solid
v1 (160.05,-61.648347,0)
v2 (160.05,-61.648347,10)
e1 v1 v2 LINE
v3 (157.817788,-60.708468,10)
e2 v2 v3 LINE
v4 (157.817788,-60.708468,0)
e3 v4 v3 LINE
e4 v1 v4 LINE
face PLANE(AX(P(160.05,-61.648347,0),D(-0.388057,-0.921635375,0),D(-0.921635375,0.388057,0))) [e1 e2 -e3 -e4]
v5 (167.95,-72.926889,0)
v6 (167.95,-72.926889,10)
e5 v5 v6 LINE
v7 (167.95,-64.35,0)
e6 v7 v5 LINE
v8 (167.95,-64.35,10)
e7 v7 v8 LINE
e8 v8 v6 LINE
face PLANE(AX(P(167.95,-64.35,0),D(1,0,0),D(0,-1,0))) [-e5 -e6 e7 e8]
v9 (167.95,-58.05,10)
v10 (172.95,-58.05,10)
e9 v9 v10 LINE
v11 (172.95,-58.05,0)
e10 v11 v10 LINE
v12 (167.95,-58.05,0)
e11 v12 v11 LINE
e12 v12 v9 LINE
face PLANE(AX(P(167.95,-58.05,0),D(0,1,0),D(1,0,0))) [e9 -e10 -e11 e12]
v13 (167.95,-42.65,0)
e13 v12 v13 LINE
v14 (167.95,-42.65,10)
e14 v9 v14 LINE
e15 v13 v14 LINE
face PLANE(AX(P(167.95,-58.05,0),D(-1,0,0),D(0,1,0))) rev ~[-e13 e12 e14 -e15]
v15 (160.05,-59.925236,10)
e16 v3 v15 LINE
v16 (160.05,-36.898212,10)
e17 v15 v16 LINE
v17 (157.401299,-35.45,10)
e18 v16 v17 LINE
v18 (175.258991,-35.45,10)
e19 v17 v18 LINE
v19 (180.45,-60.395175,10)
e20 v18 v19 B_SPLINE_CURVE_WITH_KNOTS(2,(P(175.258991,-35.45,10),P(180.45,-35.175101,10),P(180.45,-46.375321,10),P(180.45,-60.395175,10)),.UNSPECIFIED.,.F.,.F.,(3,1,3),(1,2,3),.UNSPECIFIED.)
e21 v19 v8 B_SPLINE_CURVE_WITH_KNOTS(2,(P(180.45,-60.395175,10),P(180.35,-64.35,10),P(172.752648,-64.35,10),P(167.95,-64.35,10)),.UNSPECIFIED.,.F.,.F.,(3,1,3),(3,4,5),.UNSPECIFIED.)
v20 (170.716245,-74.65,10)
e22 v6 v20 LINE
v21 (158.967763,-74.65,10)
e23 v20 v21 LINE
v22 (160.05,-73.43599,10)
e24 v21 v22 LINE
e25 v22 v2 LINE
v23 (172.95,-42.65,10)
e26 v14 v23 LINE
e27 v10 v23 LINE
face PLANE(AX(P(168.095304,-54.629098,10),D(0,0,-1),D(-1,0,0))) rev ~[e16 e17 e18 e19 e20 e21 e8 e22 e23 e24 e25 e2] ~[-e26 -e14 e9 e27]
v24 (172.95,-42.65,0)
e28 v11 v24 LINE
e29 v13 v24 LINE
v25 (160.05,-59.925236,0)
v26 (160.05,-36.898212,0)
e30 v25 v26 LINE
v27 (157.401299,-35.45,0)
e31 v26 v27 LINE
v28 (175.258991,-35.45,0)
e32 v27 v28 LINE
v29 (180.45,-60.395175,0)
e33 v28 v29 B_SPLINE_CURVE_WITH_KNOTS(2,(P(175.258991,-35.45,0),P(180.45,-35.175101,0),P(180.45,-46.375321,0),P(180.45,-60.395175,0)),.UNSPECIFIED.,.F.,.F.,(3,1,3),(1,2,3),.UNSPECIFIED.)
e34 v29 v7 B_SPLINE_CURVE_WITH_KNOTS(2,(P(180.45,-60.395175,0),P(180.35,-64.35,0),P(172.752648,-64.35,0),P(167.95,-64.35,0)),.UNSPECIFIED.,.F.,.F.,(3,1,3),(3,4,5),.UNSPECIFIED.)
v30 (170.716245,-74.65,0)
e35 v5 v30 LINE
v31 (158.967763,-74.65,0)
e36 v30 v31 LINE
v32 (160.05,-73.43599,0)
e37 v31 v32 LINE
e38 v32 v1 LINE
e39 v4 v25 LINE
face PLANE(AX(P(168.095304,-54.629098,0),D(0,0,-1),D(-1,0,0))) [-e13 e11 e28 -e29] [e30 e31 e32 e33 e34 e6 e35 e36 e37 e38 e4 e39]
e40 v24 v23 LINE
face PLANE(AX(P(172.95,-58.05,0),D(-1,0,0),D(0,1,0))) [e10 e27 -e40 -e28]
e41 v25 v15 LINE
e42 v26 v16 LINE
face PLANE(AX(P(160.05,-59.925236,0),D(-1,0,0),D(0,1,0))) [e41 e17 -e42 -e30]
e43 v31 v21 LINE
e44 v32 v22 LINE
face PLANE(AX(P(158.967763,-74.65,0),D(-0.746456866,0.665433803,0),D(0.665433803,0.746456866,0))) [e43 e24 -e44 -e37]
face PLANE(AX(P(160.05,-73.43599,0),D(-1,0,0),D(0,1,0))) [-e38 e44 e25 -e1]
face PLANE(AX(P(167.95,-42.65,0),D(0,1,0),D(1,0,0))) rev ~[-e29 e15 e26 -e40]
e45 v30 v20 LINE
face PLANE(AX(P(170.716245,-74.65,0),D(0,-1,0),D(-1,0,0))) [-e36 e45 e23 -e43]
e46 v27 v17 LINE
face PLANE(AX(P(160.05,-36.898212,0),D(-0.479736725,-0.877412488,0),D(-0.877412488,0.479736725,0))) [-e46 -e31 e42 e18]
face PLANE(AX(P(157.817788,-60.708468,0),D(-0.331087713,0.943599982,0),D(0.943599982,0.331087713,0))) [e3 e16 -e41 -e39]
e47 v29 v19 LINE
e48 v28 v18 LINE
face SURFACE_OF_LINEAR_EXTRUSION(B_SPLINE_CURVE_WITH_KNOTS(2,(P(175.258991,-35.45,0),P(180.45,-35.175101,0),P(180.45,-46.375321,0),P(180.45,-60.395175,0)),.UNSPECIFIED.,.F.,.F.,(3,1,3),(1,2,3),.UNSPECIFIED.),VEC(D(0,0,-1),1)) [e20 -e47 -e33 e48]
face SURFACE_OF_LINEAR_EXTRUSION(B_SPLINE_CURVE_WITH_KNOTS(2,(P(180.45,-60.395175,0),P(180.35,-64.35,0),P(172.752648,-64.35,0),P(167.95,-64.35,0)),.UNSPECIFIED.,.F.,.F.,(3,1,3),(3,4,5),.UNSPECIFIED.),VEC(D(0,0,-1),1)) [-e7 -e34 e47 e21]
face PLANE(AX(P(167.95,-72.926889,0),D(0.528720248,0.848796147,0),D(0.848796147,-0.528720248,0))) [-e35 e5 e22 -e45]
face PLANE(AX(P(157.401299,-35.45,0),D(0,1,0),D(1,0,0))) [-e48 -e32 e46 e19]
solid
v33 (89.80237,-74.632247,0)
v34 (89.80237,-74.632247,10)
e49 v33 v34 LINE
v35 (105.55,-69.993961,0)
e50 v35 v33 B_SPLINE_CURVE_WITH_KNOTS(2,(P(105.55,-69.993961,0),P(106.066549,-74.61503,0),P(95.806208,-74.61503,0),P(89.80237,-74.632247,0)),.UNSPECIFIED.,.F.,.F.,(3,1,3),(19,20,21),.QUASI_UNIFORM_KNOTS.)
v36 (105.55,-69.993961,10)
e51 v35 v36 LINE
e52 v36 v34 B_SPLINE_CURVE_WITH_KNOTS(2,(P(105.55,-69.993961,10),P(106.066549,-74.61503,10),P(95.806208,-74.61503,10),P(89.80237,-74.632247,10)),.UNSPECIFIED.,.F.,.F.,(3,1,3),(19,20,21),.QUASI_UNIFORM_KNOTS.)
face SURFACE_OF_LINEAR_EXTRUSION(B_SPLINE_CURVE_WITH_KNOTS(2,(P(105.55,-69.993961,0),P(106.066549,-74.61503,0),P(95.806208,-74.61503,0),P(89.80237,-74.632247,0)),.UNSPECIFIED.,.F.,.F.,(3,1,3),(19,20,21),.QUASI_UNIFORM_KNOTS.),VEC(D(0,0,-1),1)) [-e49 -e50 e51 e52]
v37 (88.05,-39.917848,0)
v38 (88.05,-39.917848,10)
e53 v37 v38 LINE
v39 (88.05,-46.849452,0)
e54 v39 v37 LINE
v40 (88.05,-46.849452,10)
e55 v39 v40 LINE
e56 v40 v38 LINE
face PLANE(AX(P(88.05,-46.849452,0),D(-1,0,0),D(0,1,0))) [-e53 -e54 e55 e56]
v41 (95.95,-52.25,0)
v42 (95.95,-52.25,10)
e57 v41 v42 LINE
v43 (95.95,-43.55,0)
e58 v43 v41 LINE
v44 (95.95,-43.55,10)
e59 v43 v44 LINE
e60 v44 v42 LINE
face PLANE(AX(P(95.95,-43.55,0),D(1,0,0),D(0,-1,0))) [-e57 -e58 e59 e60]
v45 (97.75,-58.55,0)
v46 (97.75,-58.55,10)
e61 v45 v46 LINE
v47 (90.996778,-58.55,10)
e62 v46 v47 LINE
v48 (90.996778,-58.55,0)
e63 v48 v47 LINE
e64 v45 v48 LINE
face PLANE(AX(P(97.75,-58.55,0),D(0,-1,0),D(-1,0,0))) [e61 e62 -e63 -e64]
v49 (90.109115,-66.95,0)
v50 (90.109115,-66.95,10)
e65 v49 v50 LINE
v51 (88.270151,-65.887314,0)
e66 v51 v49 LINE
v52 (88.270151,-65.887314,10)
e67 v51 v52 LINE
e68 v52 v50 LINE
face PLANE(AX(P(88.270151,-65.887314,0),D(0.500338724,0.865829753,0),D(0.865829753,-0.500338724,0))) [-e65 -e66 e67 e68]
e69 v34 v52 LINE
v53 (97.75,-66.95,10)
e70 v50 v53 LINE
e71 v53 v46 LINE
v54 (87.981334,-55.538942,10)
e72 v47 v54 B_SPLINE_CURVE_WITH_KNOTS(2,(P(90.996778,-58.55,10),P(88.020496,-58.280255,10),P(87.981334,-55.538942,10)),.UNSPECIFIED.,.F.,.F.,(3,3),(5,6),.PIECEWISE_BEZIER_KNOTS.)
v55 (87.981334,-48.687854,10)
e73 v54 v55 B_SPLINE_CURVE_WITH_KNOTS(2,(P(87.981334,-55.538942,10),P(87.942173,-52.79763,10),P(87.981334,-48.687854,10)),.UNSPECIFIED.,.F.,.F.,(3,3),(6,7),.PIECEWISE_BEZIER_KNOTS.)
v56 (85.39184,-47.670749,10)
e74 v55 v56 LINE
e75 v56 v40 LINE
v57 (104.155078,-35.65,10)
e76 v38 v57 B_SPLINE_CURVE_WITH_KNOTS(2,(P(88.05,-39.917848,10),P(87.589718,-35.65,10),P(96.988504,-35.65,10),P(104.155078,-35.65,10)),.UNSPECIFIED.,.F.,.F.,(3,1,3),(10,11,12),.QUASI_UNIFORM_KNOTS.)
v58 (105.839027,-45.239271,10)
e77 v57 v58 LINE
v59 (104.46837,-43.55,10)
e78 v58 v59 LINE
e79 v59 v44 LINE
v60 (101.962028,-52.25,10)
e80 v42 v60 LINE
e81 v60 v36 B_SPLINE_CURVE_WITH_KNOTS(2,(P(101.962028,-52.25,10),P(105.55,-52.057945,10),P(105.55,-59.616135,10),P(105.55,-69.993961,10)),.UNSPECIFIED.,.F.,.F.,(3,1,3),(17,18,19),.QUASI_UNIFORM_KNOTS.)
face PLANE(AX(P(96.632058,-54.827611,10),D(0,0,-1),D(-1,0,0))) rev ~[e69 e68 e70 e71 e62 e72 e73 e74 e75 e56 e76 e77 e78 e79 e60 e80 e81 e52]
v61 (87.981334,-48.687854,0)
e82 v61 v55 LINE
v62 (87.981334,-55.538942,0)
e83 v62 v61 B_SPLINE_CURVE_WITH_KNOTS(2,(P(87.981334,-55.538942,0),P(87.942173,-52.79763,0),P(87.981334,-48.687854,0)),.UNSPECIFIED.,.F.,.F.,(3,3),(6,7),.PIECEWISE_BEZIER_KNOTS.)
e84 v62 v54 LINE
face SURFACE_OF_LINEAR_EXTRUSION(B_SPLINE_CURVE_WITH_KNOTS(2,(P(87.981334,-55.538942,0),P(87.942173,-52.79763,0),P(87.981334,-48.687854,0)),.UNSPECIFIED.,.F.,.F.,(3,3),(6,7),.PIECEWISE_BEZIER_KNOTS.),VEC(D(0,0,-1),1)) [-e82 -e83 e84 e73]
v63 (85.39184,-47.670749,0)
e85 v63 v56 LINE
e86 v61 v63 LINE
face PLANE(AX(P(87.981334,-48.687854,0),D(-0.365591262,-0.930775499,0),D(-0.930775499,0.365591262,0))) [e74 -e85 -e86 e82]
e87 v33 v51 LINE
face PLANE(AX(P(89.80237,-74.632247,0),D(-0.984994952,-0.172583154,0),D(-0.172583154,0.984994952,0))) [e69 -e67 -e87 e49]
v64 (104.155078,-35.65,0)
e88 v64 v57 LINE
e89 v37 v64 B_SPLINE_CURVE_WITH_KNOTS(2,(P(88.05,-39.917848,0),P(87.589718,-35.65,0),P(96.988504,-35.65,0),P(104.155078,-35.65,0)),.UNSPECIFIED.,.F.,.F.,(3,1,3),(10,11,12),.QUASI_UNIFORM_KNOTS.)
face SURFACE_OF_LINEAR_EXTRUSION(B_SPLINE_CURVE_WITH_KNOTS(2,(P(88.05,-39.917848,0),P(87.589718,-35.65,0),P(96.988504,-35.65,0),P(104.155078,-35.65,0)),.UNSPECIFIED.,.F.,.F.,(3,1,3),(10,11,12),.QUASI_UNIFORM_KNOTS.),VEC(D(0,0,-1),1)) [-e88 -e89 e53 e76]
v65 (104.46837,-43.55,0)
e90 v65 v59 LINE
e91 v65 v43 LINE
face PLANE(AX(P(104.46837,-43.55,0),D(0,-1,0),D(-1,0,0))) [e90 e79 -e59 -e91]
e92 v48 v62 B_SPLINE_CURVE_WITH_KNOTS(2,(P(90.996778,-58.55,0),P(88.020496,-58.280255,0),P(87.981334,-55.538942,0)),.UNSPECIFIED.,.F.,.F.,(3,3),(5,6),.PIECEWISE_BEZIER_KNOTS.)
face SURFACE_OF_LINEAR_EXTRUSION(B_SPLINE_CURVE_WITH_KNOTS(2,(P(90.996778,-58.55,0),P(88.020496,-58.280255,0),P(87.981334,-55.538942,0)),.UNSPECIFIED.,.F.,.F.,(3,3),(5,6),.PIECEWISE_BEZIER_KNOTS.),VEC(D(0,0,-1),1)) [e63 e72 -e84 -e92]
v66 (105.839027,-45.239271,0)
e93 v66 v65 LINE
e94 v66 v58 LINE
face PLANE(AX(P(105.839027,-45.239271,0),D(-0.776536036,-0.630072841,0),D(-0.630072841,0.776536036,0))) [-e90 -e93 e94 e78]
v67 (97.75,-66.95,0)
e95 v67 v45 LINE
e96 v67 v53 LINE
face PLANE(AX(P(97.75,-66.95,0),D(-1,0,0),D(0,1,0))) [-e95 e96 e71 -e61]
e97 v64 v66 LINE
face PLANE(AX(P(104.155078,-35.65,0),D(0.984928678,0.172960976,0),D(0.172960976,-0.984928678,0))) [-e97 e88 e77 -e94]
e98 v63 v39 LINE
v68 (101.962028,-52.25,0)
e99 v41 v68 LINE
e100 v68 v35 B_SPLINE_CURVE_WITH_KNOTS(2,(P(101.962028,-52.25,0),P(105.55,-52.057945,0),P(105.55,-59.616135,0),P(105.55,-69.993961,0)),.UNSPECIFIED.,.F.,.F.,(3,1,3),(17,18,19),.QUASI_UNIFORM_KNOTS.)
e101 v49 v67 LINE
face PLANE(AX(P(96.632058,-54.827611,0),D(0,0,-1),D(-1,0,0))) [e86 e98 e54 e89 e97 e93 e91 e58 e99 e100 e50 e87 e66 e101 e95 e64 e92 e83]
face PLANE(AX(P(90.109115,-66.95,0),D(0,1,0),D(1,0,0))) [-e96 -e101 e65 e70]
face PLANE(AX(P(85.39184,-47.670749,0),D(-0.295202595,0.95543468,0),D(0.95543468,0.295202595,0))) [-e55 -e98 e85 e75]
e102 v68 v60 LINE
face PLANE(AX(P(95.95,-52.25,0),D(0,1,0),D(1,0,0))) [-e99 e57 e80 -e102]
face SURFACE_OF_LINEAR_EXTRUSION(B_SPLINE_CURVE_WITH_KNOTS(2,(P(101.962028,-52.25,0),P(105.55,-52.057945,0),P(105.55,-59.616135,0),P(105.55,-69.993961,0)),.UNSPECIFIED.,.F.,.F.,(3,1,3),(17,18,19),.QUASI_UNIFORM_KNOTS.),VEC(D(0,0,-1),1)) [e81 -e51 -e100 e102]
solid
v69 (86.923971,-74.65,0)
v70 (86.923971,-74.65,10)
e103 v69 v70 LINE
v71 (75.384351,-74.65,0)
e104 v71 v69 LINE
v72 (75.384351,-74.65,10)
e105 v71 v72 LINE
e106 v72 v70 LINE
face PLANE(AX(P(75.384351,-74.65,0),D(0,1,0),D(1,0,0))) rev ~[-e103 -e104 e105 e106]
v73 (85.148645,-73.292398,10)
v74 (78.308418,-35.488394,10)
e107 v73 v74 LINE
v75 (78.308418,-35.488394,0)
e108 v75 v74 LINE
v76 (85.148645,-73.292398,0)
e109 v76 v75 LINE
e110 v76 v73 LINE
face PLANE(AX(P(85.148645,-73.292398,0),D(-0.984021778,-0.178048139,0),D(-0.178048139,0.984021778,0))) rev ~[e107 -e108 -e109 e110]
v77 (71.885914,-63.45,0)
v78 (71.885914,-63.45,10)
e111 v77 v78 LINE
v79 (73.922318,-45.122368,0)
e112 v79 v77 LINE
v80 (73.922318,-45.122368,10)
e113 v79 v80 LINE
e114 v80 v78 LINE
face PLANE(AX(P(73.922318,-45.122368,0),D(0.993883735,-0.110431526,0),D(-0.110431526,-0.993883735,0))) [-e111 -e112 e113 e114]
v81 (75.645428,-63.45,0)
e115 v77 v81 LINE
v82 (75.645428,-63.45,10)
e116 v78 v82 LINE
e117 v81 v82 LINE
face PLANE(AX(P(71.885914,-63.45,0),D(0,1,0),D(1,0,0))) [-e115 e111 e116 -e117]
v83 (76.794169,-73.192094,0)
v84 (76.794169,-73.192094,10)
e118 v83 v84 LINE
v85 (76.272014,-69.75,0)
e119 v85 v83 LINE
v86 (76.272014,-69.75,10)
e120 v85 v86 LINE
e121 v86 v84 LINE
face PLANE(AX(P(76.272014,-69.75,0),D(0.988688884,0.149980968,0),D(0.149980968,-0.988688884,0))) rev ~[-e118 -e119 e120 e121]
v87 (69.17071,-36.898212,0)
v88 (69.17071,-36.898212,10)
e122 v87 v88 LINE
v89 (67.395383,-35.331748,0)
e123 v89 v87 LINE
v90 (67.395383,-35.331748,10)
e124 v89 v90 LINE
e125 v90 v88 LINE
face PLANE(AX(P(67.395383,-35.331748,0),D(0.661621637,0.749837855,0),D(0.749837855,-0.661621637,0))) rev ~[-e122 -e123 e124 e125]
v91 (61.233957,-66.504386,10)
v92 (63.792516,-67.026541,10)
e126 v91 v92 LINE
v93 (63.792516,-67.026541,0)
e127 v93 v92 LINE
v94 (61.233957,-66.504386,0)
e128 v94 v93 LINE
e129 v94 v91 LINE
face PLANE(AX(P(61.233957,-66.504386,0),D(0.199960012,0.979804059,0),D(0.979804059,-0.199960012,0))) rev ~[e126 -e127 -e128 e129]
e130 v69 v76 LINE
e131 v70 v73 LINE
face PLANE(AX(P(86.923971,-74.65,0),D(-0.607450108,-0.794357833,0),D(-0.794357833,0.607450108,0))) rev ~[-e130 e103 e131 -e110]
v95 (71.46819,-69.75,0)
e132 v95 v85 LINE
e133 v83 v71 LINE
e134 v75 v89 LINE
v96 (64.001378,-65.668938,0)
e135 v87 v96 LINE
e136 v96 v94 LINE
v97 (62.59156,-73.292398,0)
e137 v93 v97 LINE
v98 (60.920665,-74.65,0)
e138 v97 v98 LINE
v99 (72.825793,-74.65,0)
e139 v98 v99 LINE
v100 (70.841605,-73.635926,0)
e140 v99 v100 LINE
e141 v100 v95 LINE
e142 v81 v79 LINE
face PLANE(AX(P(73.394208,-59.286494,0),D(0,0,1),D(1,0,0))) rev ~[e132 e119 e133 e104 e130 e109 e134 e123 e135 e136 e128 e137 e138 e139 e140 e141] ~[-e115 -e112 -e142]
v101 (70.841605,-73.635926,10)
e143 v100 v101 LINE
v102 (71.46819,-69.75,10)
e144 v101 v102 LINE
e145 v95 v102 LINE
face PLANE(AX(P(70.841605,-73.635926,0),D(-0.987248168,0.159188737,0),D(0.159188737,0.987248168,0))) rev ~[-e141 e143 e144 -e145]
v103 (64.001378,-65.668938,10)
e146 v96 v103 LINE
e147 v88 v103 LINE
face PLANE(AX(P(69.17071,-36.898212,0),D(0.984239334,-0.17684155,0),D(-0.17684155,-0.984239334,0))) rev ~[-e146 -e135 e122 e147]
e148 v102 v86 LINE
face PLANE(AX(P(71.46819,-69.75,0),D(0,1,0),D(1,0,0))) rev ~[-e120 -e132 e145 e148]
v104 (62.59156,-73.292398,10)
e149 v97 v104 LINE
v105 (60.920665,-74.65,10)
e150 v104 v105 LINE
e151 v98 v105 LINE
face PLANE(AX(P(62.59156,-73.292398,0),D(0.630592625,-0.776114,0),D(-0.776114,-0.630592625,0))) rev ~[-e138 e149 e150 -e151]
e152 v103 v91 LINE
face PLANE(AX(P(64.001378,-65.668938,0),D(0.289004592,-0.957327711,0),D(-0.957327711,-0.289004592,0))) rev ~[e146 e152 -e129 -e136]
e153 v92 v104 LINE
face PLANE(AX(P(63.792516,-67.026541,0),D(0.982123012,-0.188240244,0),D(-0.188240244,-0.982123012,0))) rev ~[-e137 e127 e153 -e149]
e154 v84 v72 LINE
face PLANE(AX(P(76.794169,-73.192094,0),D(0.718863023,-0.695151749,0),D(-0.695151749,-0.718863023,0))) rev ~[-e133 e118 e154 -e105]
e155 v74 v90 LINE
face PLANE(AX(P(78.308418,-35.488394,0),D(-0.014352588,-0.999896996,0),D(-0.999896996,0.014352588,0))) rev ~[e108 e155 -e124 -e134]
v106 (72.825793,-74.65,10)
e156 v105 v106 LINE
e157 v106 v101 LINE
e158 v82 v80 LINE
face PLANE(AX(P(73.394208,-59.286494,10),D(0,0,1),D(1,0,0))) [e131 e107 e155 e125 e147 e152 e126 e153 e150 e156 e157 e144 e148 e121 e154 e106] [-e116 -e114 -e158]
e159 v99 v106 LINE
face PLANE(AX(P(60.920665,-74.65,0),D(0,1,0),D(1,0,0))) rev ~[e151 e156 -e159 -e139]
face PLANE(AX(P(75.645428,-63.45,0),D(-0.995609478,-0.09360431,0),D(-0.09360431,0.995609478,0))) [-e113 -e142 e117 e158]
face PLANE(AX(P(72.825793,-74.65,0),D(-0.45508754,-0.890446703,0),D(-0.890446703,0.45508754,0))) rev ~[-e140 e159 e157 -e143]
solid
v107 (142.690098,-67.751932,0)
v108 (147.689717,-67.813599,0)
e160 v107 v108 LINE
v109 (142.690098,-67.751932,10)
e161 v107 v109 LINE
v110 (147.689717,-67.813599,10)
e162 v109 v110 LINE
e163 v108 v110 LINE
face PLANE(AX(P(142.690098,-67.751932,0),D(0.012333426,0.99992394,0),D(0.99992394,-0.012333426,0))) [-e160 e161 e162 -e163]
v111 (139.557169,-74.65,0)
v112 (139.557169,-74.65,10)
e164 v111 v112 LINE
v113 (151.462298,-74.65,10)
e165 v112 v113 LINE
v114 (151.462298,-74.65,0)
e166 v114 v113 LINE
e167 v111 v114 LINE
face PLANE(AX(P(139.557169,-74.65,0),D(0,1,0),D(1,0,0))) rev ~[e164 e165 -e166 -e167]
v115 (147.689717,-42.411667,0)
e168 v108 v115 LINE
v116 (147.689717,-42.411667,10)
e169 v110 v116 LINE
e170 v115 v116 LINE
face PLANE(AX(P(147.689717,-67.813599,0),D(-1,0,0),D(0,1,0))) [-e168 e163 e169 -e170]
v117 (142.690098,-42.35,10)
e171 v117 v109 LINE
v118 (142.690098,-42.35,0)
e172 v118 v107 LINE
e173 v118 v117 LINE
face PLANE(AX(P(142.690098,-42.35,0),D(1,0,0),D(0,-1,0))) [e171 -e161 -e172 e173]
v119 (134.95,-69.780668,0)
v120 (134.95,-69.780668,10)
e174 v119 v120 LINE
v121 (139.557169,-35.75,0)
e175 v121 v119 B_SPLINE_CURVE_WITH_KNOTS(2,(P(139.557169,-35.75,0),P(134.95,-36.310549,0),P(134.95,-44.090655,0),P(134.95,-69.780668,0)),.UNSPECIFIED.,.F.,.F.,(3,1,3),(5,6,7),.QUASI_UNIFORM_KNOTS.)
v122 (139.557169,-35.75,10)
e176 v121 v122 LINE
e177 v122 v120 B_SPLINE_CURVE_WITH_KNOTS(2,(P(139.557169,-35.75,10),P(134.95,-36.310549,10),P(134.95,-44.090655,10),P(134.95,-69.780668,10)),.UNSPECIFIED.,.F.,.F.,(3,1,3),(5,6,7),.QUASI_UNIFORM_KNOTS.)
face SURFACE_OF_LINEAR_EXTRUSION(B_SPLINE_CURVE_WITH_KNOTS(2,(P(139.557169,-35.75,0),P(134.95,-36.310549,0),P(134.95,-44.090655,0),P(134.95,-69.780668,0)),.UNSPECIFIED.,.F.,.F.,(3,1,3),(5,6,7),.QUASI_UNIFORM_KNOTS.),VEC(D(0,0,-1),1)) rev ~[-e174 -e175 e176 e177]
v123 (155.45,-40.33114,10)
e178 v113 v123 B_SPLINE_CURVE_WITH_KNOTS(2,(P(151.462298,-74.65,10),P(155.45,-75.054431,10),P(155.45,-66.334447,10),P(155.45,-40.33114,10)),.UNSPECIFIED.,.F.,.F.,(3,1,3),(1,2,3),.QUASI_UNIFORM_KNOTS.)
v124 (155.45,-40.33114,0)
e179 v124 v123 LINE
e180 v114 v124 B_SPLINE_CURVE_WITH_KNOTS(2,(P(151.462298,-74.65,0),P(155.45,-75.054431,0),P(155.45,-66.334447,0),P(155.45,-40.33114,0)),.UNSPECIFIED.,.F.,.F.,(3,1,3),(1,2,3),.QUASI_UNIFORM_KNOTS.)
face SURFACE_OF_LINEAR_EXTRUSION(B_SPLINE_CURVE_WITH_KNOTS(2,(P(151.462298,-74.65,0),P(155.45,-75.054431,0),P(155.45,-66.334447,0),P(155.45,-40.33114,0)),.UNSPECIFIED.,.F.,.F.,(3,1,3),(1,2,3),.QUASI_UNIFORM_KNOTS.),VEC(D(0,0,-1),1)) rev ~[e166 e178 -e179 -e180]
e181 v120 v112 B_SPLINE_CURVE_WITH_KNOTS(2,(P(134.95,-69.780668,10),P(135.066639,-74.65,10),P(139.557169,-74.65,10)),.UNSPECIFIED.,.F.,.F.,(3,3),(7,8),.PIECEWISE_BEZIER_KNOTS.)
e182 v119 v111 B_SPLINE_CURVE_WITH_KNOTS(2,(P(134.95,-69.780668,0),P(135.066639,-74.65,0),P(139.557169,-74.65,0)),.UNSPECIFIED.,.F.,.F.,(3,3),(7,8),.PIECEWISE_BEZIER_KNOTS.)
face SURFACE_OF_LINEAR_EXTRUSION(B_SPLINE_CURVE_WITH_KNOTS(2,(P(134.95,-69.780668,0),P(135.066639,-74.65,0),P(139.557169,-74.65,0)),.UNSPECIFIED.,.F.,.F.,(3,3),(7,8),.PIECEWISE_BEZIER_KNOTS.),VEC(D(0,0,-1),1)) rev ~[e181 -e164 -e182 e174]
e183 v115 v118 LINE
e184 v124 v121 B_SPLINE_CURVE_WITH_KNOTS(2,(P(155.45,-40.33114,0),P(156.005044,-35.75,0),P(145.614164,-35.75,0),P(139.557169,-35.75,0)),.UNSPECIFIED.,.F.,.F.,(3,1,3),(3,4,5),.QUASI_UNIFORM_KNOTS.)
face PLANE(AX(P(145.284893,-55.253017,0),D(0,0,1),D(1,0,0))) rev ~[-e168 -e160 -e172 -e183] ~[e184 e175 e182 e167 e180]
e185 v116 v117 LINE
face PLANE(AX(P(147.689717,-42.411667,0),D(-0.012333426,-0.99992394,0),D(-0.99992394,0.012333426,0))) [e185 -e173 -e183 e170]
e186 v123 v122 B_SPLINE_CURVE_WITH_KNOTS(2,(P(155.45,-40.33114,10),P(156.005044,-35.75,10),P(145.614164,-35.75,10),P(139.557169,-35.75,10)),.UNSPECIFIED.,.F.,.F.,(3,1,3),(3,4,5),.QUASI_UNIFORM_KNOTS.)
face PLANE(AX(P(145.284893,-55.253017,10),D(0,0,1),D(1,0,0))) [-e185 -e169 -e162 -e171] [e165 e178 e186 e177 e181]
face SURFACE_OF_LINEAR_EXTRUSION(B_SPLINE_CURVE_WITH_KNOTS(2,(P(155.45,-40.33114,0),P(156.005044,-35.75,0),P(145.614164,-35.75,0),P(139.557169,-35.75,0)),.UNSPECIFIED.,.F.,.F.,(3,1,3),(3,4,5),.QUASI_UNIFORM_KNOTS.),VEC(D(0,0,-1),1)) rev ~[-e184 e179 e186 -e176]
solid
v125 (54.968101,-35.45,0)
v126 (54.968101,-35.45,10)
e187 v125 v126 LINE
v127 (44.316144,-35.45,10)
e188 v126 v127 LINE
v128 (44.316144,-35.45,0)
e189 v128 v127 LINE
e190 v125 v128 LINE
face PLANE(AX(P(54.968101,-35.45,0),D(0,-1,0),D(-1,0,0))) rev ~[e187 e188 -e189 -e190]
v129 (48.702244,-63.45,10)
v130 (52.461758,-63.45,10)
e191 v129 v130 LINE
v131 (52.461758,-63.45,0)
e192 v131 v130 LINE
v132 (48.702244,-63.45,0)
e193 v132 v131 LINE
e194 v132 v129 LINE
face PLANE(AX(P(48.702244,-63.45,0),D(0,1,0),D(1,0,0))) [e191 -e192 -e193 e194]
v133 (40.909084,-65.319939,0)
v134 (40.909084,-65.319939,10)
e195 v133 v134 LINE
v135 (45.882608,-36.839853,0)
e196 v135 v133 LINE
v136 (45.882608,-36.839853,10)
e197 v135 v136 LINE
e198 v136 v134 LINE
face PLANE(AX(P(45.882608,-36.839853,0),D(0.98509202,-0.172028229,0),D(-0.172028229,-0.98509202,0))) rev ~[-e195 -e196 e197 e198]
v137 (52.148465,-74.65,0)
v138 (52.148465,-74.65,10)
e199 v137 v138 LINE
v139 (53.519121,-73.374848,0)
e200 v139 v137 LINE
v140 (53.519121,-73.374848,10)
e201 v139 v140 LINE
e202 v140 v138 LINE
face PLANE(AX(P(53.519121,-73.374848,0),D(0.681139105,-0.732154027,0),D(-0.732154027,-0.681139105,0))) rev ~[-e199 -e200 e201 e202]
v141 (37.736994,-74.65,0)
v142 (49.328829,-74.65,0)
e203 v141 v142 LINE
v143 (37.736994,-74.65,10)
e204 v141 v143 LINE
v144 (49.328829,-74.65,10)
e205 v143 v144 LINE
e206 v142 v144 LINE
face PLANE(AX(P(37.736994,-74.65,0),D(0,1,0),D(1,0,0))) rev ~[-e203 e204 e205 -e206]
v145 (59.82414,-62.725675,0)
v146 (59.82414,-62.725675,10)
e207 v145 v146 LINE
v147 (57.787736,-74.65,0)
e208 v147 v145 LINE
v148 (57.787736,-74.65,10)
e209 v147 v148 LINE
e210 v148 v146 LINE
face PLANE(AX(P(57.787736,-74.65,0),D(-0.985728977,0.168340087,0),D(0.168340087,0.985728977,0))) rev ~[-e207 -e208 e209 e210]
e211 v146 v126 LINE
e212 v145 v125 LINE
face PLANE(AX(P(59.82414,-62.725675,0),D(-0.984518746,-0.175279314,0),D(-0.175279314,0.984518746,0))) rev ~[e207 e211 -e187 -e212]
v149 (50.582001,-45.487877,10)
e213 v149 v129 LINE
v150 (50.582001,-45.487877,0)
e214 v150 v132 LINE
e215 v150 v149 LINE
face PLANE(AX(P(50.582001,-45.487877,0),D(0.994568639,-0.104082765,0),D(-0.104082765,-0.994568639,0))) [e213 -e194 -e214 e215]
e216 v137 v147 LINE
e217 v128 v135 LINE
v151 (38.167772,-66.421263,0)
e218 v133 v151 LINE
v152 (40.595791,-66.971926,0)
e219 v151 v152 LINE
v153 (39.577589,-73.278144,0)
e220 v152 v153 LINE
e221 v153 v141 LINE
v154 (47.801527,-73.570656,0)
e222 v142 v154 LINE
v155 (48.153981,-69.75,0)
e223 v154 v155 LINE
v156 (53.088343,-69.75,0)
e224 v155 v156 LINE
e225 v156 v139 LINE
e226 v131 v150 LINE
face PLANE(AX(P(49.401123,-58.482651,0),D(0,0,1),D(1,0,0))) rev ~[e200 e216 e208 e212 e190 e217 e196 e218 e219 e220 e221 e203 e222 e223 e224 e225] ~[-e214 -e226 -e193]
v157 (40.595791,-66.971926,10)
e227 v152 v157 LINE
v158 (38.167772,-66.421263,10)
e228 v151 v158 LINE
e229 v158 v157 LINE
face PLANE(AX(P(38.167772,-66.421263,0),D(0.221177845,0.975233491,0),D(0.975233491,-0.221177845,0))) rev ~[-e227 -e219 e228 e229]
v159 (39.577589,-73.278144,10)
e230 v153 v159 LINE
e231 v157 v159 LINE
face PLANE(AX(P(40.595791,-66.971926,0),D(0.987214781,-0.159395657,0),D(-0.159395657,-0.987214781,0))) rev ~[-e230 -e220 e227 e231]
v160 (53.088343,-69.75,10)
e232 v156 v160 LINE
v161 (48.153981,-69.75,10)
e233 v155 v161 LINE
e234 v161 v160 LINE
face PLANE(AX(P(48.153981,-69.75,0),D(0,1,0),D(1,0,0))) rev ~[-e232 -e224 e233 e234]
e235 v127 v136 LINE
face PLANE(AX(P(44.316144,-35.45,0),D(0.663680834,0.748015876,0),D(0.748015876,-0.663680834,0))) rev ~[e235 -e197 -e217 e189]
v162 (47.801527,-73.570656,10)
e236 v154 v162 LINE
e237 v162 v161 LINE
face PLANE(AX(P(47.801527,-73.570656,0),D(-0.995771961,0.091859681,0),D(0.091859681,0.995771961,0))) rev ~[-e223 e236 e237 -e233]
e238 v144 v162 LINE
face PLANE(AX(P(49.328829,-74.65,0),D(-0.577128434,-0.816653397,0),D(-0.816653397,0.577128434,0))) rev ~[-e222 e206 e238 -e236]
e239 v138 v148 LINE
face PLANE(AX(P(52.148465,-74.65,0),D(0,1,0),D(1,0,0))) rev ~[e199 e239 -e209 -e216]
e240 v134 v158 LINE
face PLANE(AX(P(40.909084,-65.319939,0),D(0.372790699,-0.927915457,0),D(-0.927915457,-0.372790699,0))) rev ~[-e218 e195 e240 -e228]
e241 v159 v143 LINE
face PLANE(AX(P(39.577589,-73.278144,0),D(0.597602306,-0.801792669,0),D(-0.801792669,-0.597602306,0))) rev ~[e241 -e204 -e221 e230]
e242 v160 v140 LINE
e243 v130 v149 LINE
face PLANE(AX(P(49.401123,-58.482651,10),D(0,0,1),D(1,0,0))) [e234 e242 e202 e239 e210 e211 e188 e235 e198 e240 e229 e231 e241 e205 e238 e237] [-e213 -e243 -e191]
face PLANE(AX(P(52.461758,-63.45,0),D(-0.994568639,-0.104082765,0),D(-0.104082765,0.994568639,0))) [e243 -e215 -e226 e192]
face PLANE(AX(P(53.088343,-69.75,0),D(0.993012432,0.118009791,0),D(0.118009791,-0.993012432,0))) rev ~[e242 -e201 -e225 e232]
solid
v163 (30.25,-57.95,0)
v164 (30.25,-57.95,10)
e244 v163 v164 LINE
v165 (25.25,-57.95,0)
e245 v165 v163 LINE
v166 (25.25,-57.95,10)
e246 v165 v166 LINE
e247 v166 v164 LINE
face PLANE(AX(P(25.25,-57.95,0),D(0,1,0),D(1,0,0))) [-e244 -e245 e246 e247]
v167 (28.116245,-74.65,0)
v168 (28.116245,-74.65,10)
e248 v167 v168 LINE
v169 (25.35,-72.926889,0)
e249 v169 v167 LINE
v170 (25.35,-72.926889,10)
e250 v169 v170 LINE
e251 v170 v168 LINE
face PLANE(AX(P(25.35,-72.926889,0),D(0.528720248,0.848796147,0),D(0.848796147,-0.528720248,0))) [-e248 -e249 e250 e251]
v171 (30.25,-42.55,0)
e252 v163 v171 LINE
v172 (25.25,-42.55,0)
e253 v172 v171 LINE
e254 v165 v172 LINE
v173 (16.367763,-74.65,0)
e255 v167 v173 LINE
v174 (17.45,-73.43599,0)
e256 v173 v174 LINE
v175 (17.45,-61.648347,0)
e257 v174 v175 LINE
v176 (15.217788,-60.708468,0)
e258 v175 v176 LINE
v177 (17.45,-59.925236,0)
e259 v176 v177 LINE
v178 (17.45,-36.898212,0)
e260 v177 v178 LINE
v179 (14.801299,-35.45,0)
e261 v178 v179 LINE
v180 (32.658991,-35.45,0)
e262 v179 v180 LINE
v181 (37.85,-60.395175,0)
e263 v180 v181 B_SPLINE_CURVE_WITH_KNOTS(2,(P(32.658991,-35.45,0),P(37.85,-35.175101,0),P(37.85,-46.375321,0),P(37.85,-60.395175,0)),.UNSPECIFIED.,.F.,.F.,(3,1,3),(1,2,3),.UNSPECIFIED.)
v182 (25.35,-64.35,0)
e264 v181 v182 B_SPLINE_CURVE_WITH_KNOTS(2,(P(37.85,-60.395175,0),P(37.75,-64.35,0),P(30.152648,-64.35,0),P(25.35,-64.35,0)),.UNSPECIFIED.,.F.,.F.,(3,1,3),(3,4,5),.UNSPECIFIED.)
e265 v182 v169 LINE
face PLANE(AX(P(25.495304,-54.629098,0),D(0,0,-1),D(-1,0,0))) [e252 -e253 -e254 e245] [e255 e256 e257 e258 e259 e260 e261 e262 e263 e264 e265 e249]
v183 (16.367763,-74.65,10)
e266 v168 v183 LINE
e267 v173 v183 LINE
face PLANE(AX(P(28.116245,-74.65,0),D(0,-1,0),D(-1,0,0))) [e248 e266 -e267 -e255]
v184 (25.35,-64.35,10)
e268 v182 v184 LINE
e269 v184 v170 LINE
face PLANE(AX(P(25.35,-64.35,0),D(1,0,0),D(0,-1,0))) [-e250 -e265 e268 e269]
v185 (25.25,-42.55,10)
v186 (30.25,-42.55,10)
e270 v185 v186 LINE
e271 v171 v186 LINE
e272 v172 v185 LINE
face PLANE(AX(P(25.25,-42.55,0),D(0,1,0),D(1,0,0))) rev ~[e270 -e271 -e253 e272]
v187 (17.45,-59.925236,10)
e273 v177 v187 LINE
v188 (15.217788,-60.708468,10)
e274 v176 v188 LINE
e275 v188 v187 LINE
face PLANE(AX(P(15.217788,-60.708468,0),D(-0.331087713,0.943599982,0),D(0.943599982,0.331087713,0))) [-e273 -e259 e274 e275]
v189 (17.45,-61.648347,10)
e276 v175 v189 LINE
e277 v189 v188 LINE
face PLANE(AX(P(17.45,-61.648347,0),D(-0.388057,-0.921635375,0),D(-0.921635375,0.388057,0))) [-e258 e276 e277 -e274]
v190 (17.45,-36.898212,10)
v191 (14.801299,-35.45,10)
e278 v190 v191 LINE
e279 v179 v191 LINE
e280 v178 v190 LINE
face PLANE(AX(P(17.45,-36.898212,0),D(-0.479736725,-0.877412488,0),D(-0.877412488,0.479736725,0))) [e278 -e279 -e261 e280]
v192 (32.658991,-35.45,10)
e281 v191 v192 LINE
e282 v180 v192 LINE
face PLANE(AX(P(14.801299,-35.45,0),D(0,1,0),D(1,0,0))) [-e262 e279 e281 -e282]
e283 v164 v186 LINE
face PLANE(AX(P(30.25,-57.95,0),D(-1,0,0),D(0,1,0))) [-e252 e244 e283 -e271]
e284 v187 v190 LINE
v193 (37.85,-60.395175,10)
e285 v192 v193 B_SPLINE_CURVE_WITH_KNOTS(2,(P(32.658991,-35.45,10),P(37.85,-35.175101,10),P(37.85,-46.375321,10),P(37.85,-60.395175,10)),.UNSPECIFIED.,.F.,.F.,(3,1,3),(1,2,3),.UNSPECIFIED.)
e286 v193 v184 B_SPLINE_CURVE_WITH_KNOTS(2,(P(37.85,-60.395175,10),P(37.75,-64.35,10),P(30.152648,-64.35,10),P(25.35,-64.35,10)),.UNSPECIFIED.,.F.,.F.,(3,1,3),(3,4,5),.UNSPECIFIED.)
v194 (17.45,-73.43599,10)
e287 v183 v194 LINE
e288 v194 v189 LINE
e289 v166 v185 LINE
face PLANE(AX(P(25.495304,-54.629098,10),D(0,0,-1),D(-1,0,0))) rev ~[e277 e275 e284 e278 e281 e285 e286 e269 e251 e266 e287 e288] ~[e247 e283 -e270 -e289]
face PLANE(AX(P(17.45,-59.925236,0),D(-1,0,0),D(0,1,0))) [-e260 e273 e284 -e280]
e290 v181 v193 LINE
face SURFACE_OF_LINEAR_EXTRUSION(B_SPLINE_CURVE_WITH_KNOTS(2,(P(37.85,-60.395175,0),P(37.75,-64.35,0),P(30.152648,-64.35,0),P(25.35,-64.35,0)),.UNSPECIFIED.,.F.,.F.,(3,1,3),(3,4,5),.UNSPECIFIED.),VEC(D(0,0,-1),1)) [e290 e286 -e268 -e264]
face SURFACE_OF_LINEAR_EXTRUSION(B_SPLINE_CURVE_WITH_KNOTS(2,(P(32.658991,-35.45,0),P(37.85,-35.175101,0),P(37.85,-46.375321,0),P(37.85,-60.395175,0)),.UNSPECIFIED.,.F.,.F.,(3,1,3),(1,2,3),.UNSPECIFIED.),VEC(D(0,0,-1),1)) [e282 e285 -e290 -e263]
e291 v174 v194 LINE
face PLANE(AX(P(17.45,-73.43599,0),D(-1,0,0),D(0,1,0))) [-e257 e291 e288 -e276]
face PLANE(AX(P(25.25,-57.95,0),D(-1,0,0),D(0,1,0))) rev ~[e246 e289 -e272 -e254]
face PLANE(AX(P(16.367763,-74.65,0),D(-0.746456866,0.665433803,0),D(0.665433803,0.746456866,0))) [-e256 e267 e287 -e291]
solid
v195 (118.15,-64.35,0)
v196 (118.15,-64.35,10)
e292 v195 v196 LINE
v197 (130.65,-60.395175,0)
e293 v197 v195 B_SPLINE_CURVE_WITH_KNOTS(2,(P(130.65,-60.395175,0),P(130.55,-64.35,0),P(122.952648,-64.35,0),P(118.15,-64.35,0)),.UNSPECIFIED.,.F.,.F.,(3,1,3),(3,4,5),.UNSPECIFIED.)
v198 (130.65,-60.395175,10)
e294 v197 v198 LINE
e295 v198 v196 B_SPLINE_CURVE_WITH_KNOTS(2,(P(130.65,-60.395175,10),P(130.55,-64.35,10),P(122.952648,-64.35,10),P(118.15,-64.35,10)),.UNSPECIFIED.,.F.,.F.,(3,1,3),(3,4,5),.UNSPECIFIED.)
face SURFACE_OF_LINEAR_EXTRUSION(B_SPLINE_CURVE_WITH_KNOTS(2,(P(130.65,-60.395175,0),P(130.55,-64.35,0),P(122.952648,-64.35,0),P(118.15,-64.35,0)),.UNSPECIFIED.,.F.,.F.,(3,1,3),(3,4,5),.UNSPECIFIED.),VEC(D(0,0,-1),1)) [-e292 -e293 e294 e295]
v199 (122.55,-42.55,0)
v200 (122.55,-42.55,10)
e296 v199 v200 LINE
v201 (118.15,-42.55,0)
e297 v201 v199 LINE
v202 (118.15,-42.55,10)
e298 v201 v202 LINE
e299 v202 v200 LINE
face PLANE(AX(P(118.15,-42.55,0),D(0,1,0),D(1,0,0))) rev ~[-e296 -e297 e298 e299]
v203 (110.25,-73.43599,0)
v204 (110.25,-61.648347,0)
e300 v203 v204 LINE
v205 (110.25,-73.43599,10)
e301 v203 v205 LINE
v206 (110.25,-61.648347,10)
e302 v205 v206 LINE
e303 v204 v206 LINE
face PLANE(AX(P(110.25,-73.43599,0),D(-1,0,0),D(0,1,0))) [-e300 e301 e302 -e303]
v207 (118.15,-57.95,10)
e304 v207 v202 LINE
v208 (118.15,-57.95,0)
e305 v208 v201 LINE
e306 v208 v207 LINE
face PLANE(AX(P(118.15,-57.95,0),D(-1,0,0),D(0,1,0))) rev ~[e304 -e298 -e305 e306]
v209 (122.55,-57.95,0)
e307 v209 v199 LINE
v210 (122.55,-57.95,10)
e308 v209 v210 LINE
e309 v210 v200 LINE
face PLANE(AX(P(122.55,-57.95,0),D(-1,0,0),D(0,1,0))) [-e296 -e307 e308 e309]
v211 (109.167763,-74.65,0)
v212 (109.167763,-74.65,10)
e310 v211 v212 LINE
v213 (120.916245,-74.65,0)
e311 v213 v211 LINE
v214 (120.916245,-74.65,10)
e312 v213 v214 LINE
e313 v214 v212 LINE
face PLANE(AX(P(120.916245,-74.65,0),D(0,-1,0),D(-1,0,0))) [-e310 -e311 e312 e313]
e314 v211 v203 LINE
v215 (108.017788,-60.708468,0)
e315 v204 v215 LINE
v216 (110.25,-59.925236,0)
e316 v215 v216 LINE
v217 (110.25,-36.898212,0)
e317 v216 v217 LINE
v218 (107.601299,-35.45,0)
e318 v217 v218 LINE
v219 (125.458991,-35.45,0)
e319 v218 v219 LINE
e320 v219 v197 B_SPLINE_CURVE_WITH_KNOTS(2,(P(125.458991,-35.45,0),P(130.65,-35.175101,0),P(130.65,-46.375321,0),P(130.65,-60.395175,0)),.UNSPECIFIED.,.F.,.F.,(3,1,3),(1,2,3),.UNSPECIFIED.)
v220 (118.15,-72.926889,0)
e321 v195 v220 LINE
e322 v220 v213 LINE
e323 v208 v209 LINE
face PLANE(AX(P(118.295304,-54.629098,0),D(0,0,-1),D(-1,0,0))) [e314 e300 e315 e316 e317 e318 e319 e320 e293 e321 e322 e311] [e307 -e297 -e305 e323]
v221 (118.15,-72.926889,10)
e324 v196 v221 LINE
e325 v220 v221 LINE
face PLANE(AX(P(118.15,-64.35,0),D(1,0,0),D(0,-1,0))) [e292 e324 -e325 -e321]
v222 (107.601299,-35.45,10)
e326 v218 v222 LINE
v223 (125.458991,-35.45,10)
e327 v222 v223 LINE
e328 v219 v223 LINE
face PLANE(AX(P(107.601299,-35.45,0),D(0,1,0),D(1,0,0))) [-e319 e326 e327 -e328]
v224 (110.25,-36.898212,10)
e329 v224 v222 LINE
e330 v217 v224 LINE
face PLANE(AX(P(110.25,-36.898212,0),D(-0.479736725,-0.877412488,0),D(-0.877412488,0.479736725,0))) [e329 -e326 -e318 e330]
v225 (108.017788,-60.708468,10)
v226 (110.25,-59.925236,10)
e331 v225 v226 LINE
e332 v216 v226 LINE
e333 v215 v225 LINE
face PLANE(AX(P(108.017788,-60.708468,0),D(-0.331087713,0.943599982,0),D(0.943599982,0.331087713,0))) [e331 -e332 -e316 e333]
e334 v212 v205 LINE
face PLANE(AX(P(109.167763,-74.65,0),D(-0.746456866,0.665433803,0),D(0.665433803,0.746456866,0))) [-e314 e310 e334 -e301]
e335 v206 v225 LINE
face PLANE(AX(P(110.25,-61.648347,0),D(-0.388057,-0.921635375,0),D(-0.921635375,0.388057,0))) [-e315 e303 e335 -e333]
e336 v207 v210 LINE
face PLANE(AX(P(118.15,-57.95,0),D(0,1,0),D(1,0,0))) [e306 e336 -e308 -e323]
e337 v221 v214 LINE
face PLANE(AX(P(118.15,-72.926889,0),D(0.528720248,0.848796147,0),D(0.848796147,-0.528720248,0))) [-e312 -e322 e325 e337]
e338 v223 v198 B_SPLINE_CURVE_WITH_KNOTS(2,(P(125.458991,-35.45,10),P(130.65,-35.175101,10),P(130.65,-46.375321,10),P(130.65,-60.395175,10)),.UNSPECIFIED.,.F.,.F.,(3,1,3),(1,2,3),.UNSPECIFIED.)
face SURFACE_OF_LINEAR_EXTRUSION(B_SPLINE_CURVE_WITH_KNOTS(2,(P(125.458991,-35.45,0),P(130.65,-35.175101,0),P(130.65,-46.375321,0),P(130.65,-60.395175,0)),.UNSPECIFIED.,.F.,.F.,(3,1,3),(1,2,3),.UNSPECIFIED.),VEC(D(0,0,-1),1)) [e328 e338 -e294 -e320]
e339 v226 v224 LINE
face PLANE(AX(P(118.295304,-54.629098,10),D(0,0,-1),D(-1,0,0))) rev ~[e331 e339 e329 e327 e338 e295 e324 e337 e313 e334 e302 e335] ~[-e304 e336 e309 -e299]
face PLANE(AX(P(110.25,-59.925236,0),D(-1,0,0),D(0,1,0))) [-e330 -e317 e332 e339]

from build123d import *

# Parameters (mm, degrees)
BOSS_EXTRUDE1_DEPTH   = 10
MODEL_W               = 4.4
MODEL_H               = 15.4
BOSS_EXTRUDE1_2_DEPTH = 10
BOSS_EXTRUDE1_3_DEPTH = 10
MODEL_W_2             = 5
BOSS_EXTRUDE1_4_DEPTH = 10
BOSS_EXTRUDE1_5_DEPTH = 10
BOSS_EXTRUDE1_6_DEPTH = 10
BOSS_EXTRUDE1_7_DEPTH = 10


with BuildPart() as part:
    # Model → Boss-Extrude1 (new body)
    with BuildSketch(Plane.XY):
        with BuildLine():
            Line((89.802370268, -74.632247239), (88.270151162, -65.887314442))
            Line((88.270151162, -65.887314442), (90.109114907, -66.95))
            Line((90.109114907, -66.95), (97.75, -66.95))
            Line((97.75, -66.95), (97.75, -58.55))
            Line((97.75, -58.55), (90.996777975, -58.55))
            add(Edge.make_bspline(
                [(90.996777975, -58.55), (88.020495925, -58.280254726), (87.981334319, -55.538942312)],
                knots=[5, 5, 5, 6, 6, 6], degree=2))
            add(Edge.make_bspline(
                [(87.981334319, -55.538942312), (87.942172713, -52.797629897), (87.981334319, -48.687854259)],
                knots=[6, 6, 6, 7, 7, 7], degree=2))
            Line((87.981334319, -48.687854259), (85.391839562, -47.670748997))
            Line((85.391839562, -47.670748997), (88.05, -46.849451765))
            Line((88.05, -46.849451765), (88.05, -39.917847516))
            add(Edge.make_bspline(
                [(88.05, -39.917847516), (87.589718259, -35.65), (92.28911097, -35.65)],
                knots=[10, 10, 10, 11, 11, 11], degree=2))
            add(Edge.make_bspline(
                [(92.28911097, -35.65), (96.988503681, -35.65), (104.155077565, -35.65)],
                knots=[11, 11, 11, 12, 12, 12], degree=2))
            Line((104.155077565, -35.65), (105.83902662, -45.239271253))
            Line((105.83902662, -45.239271253), (104.468370413, -43.55))
            Line((104.468370413, -43.55), (95.95, -43.55))
            Line((95.95, -43.55), (95.95, -52.25))
            Line((95.95, -52.25), (101.962027633, -52.25))
            add(Edge.make_bspline(
                [(101.962027633, -52.25), (105.55, -52.057945352), (105.55, -55.837040324)],
                knots=[17, 17, 17, 18, 18, 18], degree=2))
            add(Edge.make_bspline(
                [(105.55, -55.837040324), (105.55, -59.616135296), (105.55, -69.993960865)],
                knots=[18, 18, 18, 19, 19, 19], degree=2))
            add(Edge.make_bspline(
                [(105.55, -69.993960865), (106.066548566, -74.615030364), (100.93637819, -74.615030364)],
                knots=[19, 19, 19, 20, 20, 20], degree=2))
            add(Edge.make_bspline(
                [(100.93637819, -74.615030364), (95.806207814, -74.615030364), (89.802370268, -74.632247239)],
                knots=[20, 20, 20, 21, 21, 21], degree=2))
        make_face()
    extrude(amount=BOSS_EXTRUDE1_DEPTH)


with BuildPart() as body_2:
    # Model → Boss-Extrude1 2 (new body)
    with BuildSketch(Plane.XY):
        with BuildLine():
            Line((107.601298886, -35.45), (125.458991188, -35.45))
            add(Edge.make_bspline(
                [(125.458991188, -35.45), (130.65, -35.175101229), (130.65, -40.775210876)],
                knots=[1, 1, 1, 2, 2, 2], degree=2))
            add(Edge.make_bspline(
                [(130.65, -40.775210876), (130.65, -46.375320523), (130.65, -60.395175444)],
                knots=[2, 2, 2, 3, 3, 3], degree=2))
            add(Edge.make_bspline(
                [(130.65, -60.395175444), (130.549999958, -64.35), (126.751324183, -64.35)],
                knots=[3, 3, 3, 4, 4, 4], degree=2))
            add(Edge.make_bspline(
                [(126.751324183, -64.35), (122.952648409, -64.35), (118.15, -64.35)],
                knots=[4, 4, 4, 5, 5, 5], degree=2))
            Line((118.15, -64.35), (118.15, -72.926889339))
            Line((118.15, -72.926889339), (120.916244901, -74.65))
            Line((120.916244901, -74.65), (109.167763123, -74.65))
            Line((109.167763123, -74.65), (110.25, -73.435990216))
            Line((110.25, -73.435990216), (110.25, -61.648346833))
            Line((110.25, -61.648346833), (108.017788462, -60.708468291))
            Line((108.017788462, -60.708468291), (110.25, -59.925236173))
            Line((110.25, -59.925236173), (110.25, -36.89821189))
            Line((110.25, -36.89821189), (107.601298886, -35.45))
        make_face()
        with Locations((120.35, -50.25)):
            Rectangle(MODEL_W, MODEL_H, mode=Mode.SUBTRACT)
    extrude(amount=BOSS_EXTRUDE1_2_DEPTH)


with BuildPart() as body_3:
    # Model → Boss-Extrude1 3 (new body)
    with BuildSketch(Plane.XY):
        with BuildLine():
            Line((139.55716932, -74.65), (151.462297521, -74.65))
            add(Edge.make_bspline(
                [(151.462297521, -74.65), (155.45, -75.054430949), (155.45, -70.694438823)],
                knots=[1, 1, 1, 2, 2, 2], degree=2))
            add(Edge.make_bspline(
                [(155.45, -70.694438823), (155.45, -66.334446697), (155.45, -40.331140363)],
                knots=[2, 2, 2, 3, 3, 3], degree=2))
            add(Edge.make_bspline(
                [(155.45, -40.331140363), (156.005043808, -35.75), (150.809604089, -35.75)],
                knots=[3, 3, 3, 4, 4, 4], degree=2))
            add(Edge.make_bspline(
                [(150.809604089, -35.75), (145.61416437, -35.75), (139.55716932, -35.75)],
                knots=[4, 4, 4, 5, 5, 5], degree=2))
            add(Edge.make_bspline(
                [(139.55716932, -35.75), (134.95, -36.310548822), (134.95, -40.200601677)],
                knots=[5, 5, 5, 6, 6, 6], degree=2))
            add(Edge.make_bspline(
                [(134.95, -40.200601677), (134.95, -44.090654532), (134.95, -69.780668018)],
                knots=[6, 6, 6, 7, 7, 7], degree=2))
            add(Edge.make_bspline(
                [(134.95, -69.780668018), (135.066638508, -74.65), (139.55716932, -74.65)],
                knots=[7, 7, 7, 8, 8, 8], degree=2))
        make_face()
        Polygon((142.690097794, -67.751932061), (147.689717496, -67.81359919), (147.689717496, -42.41166713), (142.690097794, -42.35), align=None, mode=Mode.SUBTRACT)
    extrude(amount=BOSS_EXTRUDE1_3_DEPTH)


with BuildPart() as body_4:
    # Model → Boss-Extrude1 4 (new body)
    with BuildSketch(Plane.XY):
        with BuildLine():
            Line((14.801298886, -35.45), (32.658991188, -35.45))
            add(Edge.make_bspline(
                [(32.658991188, -35.45), (37.85, -35.175101229), (37.85, -40.775210876)],
                knots=[1, 1, 1, 2, 2, 2], degree=2))
            add(Edge.make_bspline(
                [(37.85, -40.775210876), (37.85, -46.375320523), (37.85, -60.395175444)],
                knots=[2, 2, 2, 3, 3, 3], degree=2))
            add(Edge.make_bspline(
                [(37.85, -60.395175444), (37.749999958, -64.35), (33.951324183, -64.35)],
                knots=[3, 3, 3, 4, 4, 4], degree=2))
            add(Edge.make_bspline(
                [(33.951324183, -64.35), (30.152648409, -64.35), (25.35, -64.35)],
                knots=[4, 4, 4, 5, 5, 5], degree=2))
            Line((25.35, -64.35), (25.35, -72.926889339))
            Line((25.35, -72.926889339), (28.116244901, -74.65))
            Line((28.116244901, -74.65), (16.367763123, -74.65))
            Line((16.367763123, -74.65), (17.45, -73.435990216))
            Line((17.45, -73.435990216), (17.45, -61.648346833))
            Line((17.45, -61.648346833), (15.217788462, -60.708468291))
            Line((15.217788462, -60.708468291), (17.45, -59.925236173))
            Line((17.45, -59.925236173), (17.45, -36.89821189))
            Line((17.45, -36.89821189), (14.801298886, -35.45))
        make_face()
        with Locations((27.75, -50.25)):
            Rectangle(MODEL_W_2, MODEL_H, mode=Mode.SUBTRACT)
    extrude(amount=BOSS_EXTRUDE1_4_DEPTH)


with BuildPart() as body_5:
    # Model → Boss-Extrude1 5 (new body)
    with BuildSketch(Plane.XY):
        with BuildLine():
            Line((157.401298886, -35.45), (175.258991188, -35.45))
            add(Edge.make_bspline(
                [(175.258991188, -35.45), (180.45, -35.175101229), (180.45, -40.775210876)],
                knots=[1, 1, 1, 2, 2, 2], degree=2))
            add(Edge.make_bspline(
                [(180.45, -40.775210876), (180.45, -46.375320523), (180.45, -60.395175444)],
                knots=[2, 2, 2, 3, 3, 3], degree=2))
            add(Edge.make_bspline(
                [(180.45, -60.395175444), (180.349999958, -64.35), (176.551324183, -64.35)],
                knots=[3, 3, 3, 4, 4, 4], degree=2))
            add(Edge.make_bspline(
                [(176.551324183, -64.35), (172.752648409, -64.35), (167.95, -64.35)],
                knots=[4, 4, 4, 5, 5, 5], degree=2))
            Line((167.95, -64.35), (167.95, -72.926889339))
            Line((167.95, -72.926889339), (170.716244901, -74.65))
            Line((170.716244901, -74.65), (158.967763123, -74.65))
            Line((158.967763123, -74.65), (160.05, -73.435990216))
            Line((160.05, -73.435990216), (160.05, -61.648346833))
            Line((160.05, -61.648346833), (157.817788462, -60.708468291))
            Line((157.817788462, -60.708468291), (160.05, -59.925236173))
            Line((160.05, -59.925236173), (160.05, -36.89821189))
            Line((160.05, -36.89821189), (157.401298886, -35.45))
        make_face()
        with Locations((170.45, -50.35)):
            Rectangle(MODEL_W_2, MODEL_H, mode=Mode.SUBTRACT)
    extrude(amount=BOSS_EXTRUDE1_5_DEPTH)


with BuildPart() as body_6:
    # Model → Boss-Extrude1 6 (new body)
    with BuildSketch(Plane.XY):
        Polygon((37.736993919, -74.65), (49.328829272, -74.65), (47.801526641, -73.570656207), (48.153981094, -69.75), (53.088343441, -69.75), (53.519121106, -73.374848178), (52.148464899, -74.65), (57.787736152, -74.65), (59.82413966, -62.725674761), (54.968100525, -35.45), (44.316143714, -35.45), (45.882607951, -36.839853245), (40.909083998, -65.319939271), (38.167771584, -66.421263496), (40.595791151, -66.971925609), (39.577589397, -73.278143978), align=None)
        Polygon((48.702243577, -63.45), (52.461757746, -63.45), (50.582000662, -45.48787675), align=None, mode=Mode.SUBTRACT)
    extrude(amount=BOSS_EXTRUDE1_6_DEPTH)


with BuildPart() as body_7:
    # Model → Boss-Extrude1 7 (new body)
    with BuildSketch(Plane.XY):
        Polygon((60.920664625, -74.65), (72.825792826, -74.65), (70.841604793, -73.635925551), (71.468190488, -69.75), (76.272014148, -69.75), (76.794168893, -73.192094017), (75.38435108, -74.65), (86.923970959, -74.65), (85.148644824, -73.292397661), (78.308417656, -35.488394076), (67.395383472, -35.331747653), (69.170709607, -36.89821189), (64.001377625, -65.668938375), (61.233957473, -66.504385968), (63.792515727, -67.026540714), (62.591559812, -73.292397661), align=None)
        Polygon((71.885914284, -63.45), (75.645428453, -63.45), (73.922317792, -45.122368428), align=None, mode=Mode.SUBTRACT)
    extrude(amount=BOSS_EXTRUDE1_7_DEPTH)


solid = Compound([part.part, body_2.part, body_3.part, body_4.part, body_5.part, body_6.part, body_7.part])
